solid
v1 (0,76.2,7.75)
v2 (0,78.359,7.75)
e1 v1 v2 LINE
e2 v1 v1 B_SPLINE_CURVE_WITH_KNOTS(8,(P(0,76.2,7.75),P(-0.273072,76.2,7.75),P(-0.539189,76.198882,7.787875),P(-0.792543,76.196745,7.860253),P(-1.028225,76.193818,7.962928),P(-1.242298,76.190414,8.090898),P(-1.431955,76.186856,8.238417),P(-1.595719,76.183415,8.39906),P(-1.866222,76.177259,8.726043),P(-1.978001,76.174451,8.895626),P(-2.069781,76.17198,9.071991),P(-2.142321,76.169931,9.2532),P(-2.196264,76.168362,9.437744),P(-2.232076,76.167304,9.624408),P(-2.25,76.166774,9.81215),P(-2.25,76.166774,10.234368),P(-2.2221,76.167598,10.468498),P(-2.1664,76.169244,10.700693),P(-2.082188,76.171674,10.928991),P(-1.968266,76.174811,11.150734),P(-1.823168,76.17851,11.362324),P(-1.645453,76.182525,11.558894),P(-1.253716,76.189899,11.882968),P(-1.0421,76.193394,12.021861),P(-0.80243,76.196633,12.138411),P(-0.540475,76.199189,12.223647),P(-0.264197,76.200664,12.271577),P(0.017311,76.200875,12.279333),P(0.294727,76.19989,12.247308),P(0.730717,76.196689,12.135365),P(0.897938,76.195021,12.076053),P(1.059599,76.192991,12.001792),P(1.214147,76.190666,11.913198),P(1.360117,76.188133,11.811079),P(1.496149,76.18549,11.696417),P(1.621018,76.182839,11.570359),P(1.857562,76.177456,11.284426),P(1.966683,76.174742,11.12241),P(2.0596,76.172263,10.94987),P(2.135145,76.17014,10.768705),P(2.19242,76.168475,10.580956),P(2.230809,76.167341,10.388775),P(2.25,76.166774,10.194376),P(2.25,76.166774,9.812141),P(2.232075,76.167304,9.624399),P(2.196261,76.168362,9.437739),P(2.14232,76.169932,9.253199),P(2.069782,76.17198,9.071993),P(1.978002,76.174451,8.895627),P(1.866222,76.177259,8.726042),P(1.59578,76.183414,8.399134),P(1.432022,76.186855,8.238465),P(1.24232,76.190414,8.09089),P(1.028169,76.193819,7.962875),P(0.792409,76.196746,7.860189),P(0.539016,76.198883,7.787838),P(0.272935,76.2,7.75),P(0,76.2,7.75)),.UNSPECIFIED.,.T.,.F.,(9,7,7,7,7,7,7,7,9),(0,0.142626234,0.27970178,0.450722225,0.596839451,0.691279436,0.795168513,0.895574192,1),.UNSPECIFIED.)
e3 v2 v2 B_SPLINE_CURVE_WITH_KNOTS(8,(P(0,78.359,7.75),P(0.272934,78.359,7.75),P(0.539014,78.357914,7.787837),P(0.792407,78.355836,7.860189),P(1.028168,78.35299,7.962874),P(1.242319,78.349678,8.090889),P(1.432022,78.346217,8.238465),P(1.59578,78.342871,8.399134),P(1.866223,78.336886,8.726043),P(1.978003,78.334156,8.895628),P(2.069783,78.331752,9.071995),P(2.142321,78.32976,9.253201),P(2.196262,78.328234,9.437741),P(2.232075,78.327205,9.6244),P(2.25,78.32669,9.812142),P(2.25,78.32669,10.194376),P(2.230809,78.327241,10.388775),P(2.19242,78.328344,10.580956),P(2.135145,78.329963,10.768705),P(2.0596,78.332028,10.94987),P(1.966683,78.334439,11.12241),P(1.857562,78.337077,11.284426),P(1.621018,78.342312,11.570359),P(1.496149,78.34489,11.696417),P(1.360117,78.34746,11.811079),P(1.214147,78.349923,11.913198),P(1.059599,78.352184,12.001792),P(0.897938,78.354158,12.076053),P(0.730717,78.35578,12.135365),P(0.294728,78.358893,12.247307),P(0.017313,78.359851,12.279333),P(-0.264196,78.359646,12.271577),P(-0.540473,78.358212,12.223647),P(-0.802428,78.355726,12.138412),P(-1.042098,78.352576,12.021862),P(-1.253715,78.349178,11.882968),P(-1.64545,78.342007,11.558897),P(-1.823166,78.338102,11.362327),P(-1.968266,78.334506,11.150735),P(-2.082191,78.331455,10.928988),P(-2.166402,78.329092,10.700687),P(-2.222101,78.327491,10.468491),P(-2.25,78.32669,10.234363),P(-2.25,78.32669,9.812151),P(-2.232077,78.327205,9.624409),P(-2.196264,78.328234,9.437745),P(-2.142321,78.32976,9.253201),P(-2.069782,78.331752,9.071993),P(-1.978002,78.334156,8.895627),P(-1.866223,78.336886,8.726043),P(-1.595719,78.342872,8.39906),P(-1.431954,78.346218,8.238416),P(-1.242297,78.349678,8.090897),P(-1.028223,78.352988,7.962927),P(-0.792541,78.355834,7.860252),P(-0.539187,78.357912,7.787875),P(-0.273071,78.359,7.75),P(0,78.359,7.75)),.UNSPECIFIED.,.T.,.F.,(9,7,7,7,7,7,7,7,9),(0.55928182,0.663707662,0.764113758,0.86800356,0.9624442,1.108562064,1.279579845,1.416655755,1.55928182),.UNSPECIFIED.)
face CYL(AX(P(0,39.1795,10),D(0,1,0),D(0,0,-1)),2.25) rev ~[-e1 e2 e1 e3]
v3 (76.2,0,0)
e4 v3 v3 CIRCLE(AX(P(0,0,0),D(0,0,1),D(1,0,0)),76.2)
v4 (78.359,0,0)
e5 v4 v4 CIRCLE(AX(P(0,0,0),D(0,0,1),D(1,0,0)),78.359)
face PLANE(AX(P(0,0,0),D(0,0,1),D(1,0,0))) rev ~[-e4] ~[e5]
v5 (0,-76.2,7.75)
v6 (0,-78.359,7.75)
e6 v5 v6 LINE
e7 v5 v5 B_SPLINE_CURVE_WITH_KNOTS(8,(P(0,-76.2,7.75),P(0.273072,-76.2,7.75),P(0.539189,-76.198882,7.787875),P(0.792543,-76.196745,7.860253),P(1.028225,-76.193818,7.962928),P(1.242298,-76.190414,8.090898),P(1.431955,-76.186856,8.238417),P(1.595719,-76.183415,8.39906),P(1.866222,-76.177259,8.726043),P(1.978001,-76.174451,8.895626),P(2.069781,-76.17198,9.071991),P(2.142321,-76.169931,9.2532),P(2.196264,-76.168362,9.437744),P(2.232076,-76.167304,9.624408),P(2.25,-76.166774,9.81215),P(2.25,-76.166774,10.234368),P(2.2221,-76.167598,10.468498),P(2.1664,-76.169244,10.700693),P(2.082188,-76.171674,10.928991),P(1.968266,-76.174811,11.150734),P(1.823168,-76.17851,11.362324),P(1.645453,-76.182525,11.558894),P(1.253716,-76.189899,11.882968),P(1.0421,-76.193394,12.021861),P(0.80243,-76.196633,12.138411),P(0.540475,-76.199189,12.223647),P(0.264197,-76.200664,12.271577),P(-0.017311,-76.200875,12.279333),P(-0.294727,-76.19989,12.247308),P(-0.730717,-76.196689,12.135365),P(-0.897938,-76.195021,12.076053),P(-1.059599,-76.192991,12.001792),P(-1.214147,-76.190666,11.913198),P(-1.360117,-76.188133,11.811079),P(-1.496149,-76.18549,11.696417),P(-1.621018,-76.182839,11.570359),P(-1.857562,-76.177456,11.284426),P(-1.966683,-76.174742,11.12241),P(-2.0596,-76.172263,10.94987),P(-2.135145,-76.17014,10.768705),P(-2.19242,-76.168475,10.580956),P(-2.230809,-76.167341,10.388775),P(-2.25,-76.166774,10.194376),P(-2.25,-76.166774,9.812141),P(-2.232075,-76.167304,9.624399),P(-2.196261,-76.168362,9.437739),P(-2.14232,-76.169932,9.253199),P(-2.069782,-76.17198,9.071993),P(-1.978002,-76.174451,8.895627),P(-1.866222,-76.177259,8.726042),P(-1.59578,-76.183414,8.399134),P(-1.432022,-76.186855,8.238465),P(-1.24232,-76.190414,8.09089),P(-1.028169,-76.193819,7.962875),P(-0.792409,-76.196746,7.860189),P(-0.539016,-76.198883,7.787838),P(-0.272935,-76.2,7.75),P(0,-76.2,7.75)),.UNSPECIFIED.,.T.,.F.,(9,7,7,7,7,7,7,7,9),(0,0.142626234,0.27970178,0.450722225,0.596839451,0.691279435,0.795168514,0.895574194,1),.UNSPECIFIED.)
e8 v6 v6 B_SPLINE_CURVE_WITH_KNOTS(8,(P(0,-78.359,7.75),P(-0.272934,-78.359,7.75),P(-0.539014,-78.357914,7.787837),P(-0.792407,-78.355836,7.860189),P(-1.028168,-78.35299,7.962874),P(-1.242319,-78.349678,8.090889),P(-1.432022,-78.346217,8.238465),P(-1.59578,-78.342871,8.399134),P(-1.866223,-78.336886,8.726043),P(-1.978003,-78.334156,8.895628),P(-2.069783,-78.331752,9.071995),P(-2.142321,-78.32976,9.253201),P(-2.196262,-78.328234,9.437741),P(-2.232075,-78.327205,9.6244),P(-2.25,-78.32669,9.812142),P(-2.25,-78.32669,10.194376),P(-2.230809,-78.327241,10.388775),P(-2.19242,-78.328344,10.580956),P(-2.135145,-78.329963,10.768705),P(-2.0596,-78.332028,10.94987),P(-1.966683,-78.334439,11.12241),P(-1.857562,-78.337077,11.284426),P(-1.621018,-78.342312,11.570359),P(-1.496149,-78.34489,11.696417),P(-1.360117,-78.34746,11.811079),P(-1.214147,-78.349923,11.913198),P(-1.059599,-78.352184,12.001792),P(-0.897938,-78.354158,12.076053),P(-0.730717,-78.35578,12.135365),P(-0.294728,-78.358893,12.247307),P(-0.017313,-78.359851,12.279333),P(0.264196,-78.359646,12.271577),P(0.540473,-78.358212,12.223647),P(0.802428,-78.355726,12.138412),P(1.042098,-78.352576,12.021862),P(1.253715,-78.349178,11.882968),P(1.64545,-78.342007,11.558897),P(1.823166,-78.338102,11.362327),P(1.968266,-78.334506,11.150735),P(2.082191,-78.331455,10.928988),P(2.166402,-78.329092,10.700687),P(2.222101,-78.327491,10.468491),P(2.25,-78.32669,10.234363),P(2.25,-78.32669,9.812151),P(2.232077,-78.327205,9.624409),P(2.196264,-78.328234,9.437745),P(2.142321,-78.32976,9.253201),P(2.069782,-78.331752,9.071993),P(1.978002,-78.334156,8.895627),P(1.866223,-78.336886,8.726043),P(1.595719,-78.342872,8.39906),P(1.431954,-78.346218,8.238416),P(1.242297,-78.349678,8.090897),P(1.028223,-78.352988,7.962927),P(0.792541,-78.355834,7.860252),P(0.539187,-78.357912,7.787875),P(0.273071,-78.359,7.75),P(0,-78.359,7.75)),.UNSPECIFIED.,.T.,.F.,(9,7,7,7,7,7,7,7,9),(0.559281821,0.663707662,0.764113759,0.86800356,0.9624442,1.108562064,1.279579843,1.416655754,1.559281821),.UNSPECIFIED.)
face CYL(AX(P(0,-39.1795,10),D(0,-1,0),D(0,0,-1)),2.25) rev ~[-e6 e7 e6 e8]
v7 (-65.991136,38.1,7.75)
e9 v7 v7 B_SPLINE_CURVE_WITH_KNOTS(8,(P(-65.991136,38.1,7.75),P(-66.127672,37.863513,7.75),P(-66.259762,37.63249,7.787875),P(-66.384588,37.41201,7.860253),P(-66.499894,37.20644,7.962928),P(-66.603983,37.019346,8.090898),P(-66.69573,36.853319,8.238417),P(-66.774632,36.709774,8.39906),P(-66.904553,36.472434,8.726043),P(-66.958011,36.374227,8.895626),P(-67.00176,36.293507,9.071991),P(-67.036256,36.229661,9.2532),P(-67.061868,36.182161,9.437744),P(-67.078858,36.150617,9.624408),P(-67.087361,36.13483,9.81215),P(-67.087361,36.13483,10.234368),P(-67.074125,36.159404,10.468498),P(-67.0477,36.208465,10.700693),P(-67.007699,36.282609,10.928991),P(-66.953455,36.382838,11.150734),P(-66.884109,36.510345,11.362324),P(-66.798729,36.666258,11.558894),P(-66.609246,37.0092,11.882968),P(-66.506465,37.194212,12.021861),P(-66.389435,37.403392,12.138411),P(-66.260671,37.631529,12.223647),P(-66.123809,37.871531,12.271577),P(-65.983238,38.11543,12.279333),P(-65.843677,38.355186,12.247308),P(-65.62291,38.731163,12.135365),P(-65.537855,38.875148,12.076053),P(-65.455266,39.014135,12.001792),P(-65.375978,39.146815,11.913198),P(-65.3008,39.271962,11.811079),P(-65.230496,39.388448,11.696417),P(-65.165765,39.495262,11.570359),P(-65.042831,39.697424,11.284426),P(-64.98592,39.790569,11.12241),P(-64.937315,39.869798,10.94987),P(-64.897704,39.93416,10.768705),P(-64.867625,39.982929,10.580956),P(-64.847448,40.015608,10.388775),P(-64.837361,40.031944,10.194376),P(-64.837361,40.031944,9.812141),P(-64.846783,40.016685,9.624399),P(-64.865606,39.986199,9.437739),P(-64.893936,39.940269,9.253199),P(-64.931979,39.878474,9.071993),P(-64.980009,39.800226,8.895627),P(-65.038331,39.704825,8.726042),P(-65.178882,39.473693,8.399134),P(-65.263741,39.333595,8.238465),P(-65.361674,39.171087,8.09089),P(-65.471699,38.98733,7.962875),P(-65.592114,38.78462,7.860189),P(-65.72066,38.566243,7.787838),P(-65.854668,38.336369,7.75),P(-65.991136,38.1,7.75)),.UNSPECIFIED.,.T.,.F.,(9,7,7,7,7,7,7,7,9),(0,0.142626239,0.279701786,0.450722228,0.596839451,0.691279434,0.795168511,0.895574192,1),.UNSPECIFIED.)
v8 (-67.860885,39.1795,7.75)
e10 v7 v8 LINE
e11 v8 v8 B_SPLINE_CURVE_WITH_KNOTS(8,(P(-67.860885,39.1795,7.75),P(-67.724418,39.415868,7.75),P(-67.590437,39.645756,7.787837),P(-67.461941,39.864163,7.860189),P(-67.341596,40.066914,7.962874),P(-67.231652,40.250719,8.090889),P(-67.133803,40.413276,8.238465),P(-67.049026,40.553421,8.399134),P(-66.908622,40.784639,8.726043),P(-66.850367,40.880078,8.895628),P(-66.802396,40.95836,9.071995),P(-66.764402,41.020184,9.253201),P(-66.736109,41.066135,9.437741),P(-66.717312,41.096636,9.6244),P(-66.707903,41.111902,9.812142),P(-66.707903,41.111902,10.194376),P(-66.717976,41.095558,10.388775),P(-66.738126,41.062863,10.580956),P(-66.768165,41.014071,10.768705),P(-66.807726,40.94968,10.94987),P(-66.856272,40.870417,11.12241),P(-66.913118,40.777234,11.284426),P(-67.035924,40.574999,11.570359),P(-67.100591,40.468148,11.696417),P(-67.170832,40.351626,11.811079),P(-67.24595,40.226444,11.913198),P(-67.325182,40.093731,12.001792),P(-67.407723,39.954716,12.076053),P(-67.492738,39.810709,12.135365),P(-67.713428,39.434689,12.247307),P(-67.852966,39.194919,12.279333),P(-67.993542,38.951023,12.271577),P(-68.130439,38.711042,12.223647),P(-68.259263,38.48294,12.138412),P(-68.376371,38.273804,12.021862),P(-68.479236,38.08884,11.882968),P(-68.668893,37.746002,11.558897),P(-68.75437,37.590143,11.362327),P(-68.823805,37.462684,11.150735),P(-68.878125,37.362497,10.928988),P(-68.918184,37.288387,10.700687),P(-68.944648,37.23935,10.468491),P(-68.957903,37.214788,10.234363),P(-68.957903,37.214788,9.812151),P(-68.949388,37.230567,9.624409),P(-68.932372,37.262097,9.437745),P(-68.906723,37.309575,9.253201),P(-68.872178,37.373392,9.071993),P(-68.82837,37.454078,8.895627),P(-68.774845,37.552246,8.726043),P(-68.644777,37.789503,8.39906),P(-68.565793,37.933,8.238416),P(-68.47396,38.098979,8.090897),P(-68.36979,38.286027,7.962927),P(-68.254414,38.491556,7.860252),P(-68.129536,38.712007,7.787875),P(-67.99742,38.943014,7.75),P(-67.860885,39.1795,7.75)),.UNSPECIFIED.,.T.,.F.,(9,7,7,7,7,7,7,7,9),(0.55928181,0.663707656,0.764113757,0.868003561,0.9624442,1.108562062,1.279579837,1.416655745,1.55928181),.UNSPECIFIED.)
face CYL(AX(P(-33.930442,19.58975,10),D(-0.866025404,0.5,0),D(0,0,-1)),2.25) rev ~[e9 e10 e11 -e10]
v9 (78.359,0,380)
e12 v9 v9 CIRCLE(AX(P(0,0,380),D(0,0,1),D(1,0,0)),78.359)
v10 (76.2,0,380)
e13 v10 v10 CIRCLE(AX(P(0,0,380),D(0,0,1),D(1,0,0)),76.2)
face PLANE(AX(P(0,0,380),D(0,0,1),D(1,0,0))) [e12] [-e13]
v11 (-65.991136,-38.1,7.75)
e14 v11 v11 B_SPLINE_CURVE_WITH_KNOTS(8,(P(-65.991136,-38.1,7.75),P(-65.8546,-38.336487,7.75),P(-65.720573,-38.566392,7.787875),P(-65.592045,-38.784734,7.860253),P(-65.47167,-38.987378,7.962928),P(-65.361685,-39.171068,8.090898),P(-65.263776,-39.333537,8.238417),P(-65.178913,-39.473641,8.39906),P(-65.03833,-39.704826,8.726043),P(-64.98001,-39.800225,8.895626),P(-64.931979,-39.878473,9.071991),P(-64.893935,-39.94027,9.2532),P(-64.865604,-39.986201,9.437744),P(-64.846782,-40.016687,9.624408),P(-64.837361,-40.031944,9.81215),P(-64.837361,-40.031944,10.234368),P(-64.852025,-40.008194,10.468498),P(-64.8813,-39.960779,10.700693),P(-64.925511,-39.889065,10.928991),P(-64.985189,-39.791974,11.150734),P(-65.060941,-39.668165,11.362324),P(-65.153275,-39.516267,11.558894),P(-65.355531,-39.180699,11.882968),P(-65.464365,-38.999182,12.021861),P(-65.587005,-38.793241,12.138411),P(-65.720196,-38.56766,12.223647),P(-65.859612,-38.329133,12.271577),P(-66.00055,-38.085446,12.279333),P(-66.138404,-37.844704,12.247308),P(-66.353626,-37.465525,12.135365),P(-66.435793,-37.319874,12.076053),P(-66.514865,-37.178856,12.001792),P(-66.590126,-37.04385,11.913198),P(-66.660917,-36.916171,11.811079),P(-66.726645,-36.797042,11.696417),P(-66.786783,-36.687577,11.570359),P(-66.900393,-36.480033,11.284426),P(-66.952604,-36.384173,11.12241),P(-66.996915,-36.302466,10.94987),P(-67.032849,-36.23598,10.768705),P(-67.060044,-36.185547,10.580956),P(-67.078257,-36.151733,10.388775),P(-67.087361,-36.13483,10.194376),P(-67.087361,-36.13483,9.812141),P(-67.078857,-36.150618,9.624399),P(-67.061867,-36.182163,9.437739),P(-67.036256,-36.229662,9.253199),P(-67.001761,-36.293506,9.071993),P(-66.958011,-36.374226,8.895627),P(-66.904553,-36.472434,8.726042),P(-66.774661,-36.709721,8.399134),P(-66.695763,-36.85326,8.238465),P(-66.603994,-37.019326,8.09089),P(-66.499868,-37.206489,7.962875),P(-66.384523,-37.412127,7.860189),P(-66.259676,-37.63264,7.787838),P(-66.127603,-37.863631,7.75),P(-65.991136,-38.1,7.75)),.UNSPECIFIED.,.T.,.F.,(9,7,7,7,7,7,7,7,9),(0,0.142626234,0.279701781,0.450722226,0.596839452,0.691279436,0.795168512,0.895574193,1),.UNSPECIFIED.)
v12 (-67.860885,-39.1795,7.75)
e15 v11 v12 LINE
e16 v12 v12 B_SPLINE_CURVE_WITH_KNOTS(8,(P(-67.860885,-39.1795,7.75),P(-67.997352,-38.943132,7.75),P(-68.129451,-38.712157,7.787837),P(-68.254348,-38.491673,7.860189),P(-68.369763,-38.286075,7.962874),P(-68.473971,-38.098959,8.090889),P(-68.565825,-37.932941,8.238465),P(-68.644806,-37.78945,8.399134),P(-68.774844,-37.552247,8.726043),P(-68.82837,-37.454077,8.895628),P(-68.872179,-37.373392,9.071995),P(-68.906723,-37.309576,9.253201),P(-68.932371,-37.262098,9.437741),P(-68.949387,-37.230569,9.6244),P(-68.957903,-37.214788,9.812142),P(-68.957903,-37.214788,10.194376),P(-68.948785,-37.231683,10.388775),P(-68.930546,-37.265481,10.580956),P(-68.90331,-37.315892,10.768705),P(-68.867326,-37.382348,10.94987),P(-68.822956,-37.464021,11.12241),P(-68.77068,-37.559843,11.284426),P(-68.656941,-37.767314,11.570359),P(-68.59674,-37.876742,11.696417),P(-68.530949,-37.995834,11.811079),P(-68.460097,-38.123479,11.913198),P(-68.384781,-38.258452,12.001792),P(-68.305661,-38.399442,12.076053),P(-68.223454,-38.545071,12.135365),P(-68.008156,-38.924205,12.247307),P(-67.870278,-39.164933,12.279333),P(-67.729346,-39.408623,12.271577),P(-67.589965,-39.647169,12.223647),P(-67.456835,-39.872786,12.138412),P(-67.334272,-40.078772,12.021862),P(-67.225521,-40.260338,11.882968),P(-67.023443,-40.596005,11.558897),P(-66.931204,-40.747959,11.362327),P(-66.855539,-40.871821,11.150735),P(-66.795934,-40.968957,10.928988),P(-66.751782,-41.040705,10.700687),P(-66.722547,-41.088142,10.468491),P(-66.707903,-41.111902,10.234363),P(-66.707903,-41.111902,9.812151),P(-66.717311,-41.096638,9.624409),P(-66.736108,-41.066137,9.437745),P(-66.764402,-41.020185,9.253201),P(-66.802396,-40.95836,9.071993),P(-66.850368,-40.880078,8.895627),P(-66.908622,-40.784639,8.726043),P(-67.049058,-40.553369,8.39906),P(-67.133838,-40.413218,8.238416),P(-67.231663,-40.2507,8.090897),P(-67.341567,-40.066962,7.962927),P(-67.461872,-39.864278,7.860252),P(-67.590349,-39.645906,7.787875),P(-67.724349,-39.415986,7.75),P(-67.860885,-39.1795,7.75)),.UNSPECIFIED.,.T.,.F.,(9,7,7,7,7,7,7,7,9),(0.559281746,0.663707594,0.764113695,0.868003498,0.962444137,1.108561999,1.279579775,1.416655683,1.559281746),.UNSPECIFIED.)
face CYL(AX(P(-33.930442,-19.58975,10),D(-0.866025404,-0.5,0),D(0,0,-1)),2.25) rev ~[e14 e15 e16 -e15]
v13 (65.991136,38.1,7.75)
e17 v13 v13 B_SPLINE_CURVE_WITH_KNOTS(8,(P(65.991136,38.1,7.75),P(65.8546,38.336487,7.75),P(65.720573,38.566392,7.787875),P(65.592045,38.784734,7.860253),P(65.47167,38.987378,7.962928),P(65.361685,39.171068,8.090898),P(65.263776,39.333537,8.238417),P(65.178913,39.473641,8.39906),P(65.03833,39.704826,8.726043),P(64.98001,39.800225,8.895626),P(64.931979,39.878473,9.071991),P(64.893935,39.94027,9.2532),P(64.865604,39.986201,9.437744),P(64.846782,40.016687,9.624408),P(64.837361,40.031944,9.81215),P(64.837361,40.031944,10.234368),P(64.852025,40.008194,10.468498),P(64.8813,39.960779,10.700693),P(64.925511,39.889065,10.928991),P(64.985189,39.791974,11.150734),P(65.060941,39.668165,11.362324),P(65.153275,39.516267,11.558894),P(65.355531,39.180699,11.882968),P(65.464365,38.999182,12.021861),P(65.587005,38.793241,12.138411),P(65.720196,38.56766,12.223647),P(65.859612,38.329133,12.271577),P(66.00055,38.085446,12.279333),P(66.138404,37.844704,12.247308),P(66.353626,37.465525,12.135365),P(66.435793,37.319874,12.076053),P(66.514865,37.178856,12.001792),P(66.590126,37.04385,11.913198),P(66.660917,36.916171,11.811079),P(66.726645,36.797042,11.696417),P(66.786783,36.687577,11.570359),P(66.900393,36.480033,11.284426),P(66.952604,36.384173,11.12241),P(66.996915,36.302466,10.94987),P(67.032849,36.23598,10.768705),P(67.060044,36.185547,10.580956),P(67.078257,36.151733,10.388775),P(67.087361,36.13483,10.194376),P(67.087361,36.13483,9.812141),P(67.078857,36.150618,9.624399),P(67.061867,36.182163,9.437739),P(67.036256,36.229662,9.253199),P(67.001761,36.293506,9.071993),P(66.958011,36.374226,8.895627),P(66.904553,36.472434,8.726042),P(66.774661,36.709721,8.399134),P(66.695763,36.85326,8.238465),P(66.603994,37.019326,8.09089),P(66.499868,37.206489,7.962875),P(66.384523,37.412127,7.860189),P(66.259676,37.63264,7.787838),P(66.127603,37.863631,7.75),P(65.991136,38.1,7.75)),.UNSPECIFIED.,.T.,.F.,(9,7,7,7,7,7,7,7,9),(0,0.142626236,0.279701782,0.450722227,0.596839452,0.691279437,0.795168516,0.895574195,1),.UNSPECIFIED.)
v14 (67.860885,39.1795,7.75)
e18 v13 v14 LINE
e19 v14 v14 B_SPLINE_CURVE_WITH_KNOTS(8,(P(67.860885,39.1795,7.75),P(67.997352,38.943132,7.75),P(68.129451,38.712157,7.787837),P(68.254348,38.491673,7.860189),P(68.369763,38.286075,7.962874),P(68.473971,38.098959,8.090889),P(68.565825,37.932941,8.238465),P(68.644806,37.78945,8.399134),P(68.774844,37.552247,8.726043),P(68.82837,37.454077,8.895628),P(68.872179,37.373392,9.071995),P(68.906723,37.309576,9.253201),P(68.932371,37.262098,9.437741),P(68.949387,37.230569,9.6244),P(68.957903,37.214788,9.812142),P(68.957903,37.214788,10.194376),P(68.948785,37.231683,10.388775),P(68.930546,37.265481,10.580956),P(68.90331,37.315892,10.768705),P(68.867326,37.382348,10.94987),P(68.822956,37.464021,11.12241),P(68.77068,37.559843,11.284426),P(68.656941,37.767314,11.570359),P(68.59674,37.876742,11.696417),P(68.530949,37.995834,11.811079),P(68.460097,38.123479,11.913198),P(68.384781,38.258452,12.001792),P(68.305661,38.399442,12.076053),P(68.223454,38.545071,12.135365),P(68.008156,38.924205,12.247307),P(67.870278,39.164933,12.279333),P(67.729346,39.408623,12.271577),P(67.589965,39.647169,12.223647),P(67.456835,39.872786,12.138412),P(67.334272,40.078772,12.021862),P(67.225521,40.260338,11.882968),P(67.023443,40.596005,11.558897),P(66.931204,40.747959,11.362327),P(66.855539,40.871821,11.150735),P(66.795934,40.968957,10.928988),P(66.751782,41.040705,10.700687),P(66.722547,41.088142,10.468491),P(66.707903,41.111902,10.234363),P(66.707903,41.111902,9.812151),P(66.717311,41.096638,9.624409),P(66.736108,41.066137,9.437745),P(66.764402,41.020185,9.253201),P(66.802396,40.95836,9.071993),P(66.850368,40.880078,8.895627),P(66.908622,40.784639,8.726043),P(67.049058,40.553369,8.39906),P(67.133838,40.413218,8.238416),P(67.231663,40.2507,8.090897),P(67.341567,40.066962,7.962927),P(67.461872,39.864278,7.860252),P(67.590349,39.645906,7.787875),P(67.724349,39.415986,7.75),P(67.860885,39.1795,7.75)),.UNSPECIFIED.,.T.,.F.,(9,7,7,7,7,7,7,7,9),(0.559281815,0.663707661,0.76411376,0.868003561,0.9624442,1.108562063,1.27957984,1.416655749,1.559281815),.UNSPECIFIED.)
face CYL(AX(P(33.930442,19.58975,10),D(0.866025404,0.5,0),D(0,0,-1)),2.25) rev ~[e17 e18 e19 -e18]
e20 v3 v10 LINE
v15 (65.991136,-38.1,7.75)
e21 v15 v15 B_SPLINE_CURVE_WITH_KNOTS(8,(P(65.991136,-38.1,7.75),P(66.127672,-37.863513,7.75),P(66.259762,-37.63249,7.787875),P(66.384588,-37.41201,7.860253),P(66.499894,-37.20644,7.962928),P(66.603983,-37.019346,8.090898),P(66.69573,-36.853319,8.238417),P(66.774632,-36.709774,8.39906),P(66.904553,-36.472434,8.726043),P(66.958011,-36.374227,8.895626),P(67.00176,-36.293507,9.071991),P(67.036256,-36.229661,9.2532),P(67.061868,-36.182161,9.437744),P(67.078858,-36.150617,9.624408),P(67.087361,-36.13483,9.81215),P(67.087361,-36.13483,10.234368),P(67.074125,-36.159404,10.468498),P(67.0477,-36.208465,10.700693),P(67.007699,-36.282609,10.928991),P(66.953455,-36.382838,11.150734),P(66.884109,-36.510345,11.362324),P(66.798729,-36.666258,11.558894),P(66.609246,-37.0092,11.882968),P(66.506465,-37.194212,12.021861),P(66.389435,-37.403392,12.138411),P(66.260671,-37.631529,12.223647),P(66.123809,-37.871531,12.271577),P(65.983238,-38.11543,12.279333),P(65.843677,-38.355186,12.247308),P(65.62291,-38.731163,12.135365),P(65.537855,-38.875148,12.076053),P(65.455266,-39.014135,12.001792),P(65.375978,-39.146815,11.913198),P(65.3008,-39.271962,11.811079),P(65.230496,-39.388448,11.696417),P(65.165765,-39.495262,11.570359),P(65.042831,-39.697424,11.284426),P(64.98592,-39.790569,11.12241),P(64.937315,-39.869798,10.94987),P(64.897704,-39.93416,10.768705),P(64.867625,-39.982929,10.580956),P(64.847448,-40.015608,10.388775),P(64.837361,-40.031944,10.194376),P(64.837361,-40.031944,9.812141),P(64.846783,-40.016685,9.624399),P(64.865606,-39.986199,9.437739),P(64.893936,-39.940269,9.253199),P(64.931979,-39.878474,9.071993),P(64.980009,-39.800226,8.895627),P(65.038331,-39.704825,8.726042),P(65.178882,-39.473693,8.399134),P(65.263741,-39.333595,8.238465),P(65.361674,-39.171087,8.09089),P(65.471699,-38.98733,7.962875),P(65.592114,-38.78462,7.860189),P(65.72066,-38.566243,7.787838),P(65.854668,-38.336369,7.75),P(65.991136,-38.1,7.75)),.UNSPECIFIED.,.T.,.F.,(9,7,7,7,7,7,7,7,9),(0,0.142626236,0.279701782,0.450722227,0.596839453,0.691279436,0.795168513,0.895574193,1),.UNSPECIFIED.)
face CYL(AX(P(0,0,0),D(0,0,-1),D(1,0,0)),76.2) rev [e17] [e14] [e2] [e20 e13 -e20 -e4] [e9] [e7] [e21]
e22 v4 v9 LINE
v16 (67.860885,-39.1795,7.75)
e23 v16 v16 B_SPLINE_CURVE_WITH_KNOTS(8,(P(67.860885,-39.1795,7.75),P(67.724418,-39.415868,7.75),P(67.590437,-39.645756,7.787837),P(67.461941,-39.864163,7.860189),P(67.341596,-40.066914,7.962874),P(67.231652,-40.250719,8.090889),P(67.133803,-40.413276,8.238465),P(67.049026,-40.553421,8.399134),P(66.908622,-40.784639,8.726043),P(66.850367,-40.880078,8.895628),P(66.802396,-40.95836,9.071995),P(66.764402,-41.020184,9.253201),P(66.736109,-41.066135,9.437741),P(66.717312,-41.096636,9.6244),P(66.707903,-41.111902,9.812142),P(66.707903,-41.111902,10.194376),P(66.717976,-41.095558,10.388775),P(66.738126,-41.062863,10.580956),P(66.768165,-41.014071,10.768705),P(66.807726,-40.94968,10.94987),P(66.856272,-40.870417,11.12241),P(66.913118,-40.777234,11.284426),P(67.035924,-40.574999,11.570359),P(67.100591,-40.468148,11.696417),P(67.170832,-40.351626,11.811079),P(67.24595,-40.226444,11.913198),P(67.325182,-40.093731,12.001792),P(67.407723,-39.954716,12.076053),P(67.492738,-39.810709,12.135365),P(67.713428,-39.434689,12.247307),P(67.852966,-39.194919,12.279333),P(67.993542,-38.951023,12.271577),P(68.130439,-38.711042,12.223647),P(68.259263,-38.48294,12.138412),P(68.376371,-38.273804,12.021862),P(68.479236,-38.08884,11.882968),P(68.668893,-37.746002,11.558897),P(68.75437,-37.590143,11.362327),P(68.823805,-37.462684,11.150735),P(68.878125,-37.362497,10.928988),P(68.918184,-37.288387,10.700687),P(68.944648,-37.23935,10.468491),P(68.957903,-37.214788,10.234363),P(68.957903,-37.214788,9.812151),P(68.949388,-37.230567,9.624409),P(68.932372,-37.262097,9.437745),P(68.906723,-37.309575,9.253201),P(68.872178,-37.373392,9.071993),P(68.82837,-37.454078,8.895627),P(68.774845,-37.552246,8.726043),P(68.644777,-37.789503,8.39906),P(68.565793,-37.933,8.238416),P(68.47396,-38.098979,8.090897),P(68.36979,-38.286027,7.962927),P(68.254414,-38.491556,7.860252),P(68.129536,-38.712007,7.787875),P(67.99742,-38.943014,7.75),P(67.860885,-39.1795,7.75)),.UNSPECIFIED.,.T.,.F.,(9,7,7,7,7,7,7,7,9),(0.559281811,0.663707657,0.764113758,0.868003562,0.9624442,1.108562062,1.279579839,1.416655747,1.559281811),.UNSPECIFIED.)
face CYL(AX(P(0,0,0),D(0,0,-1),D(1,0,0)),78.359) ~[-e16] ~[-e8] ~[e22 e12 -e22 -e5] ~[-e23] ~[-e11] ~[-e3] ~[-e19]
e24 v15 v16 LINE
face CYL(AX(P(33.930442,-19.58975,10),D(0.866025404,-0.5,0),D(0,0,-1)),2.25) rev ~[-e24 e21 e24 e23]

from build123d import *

# Parameters (mm, degrees)
SKETCH1_R           = 78.359
SKETCH1_R_2         = 76.2
BOSS_EXTRUDE1_DEPTH = 380
SKETCH5_W           = 2.25
SKETCH5_H           = 78.359
CIRPATTERN2_COUNT   = 6


with BuildPart() as part:
    # Sketch1 → Boss-Extrude1 (new body)
    with BuildSketch(Plane.XY):
        Circle(SKETCH1_R)
        Circle(SKETCH1_R_2, mode=Mode.SUBTRACT)
    extrude(amount=BOSS_EXTRUDE1_DEPTH)

    # Sketch5 → M4 Clearance Hole2 (revolve, cut)
    with BuildSketch(Plane(origin=(0, 0, 10), x_dir=(0, 0, -1), z_dir=(1, 0, 0))):
        with Locations((1.125, 39.1795)):
            Rectangle(SKETCH5_W, SKETCH5_H)
    m4_clearance_hole2 = revolve(axis=Axis((0, -6.35, 10), (0, 1, 0)), mode=Mode.SUBTRACT)

    # CirPattern2: M4 Clearance Hole2 ×6 about axis
    cirpattern2_axis = Axis((0, 0, 380), (0, 0, -1))
    for i in range(1, CIRPATTERN2_COUNT):
        add(m4_clearance_hole2.rotate(cirpattern2_axis, i * 360 / CIRPATTERN2_COUNT), mode=Mode.SUBTRACT)


solid = part.part
